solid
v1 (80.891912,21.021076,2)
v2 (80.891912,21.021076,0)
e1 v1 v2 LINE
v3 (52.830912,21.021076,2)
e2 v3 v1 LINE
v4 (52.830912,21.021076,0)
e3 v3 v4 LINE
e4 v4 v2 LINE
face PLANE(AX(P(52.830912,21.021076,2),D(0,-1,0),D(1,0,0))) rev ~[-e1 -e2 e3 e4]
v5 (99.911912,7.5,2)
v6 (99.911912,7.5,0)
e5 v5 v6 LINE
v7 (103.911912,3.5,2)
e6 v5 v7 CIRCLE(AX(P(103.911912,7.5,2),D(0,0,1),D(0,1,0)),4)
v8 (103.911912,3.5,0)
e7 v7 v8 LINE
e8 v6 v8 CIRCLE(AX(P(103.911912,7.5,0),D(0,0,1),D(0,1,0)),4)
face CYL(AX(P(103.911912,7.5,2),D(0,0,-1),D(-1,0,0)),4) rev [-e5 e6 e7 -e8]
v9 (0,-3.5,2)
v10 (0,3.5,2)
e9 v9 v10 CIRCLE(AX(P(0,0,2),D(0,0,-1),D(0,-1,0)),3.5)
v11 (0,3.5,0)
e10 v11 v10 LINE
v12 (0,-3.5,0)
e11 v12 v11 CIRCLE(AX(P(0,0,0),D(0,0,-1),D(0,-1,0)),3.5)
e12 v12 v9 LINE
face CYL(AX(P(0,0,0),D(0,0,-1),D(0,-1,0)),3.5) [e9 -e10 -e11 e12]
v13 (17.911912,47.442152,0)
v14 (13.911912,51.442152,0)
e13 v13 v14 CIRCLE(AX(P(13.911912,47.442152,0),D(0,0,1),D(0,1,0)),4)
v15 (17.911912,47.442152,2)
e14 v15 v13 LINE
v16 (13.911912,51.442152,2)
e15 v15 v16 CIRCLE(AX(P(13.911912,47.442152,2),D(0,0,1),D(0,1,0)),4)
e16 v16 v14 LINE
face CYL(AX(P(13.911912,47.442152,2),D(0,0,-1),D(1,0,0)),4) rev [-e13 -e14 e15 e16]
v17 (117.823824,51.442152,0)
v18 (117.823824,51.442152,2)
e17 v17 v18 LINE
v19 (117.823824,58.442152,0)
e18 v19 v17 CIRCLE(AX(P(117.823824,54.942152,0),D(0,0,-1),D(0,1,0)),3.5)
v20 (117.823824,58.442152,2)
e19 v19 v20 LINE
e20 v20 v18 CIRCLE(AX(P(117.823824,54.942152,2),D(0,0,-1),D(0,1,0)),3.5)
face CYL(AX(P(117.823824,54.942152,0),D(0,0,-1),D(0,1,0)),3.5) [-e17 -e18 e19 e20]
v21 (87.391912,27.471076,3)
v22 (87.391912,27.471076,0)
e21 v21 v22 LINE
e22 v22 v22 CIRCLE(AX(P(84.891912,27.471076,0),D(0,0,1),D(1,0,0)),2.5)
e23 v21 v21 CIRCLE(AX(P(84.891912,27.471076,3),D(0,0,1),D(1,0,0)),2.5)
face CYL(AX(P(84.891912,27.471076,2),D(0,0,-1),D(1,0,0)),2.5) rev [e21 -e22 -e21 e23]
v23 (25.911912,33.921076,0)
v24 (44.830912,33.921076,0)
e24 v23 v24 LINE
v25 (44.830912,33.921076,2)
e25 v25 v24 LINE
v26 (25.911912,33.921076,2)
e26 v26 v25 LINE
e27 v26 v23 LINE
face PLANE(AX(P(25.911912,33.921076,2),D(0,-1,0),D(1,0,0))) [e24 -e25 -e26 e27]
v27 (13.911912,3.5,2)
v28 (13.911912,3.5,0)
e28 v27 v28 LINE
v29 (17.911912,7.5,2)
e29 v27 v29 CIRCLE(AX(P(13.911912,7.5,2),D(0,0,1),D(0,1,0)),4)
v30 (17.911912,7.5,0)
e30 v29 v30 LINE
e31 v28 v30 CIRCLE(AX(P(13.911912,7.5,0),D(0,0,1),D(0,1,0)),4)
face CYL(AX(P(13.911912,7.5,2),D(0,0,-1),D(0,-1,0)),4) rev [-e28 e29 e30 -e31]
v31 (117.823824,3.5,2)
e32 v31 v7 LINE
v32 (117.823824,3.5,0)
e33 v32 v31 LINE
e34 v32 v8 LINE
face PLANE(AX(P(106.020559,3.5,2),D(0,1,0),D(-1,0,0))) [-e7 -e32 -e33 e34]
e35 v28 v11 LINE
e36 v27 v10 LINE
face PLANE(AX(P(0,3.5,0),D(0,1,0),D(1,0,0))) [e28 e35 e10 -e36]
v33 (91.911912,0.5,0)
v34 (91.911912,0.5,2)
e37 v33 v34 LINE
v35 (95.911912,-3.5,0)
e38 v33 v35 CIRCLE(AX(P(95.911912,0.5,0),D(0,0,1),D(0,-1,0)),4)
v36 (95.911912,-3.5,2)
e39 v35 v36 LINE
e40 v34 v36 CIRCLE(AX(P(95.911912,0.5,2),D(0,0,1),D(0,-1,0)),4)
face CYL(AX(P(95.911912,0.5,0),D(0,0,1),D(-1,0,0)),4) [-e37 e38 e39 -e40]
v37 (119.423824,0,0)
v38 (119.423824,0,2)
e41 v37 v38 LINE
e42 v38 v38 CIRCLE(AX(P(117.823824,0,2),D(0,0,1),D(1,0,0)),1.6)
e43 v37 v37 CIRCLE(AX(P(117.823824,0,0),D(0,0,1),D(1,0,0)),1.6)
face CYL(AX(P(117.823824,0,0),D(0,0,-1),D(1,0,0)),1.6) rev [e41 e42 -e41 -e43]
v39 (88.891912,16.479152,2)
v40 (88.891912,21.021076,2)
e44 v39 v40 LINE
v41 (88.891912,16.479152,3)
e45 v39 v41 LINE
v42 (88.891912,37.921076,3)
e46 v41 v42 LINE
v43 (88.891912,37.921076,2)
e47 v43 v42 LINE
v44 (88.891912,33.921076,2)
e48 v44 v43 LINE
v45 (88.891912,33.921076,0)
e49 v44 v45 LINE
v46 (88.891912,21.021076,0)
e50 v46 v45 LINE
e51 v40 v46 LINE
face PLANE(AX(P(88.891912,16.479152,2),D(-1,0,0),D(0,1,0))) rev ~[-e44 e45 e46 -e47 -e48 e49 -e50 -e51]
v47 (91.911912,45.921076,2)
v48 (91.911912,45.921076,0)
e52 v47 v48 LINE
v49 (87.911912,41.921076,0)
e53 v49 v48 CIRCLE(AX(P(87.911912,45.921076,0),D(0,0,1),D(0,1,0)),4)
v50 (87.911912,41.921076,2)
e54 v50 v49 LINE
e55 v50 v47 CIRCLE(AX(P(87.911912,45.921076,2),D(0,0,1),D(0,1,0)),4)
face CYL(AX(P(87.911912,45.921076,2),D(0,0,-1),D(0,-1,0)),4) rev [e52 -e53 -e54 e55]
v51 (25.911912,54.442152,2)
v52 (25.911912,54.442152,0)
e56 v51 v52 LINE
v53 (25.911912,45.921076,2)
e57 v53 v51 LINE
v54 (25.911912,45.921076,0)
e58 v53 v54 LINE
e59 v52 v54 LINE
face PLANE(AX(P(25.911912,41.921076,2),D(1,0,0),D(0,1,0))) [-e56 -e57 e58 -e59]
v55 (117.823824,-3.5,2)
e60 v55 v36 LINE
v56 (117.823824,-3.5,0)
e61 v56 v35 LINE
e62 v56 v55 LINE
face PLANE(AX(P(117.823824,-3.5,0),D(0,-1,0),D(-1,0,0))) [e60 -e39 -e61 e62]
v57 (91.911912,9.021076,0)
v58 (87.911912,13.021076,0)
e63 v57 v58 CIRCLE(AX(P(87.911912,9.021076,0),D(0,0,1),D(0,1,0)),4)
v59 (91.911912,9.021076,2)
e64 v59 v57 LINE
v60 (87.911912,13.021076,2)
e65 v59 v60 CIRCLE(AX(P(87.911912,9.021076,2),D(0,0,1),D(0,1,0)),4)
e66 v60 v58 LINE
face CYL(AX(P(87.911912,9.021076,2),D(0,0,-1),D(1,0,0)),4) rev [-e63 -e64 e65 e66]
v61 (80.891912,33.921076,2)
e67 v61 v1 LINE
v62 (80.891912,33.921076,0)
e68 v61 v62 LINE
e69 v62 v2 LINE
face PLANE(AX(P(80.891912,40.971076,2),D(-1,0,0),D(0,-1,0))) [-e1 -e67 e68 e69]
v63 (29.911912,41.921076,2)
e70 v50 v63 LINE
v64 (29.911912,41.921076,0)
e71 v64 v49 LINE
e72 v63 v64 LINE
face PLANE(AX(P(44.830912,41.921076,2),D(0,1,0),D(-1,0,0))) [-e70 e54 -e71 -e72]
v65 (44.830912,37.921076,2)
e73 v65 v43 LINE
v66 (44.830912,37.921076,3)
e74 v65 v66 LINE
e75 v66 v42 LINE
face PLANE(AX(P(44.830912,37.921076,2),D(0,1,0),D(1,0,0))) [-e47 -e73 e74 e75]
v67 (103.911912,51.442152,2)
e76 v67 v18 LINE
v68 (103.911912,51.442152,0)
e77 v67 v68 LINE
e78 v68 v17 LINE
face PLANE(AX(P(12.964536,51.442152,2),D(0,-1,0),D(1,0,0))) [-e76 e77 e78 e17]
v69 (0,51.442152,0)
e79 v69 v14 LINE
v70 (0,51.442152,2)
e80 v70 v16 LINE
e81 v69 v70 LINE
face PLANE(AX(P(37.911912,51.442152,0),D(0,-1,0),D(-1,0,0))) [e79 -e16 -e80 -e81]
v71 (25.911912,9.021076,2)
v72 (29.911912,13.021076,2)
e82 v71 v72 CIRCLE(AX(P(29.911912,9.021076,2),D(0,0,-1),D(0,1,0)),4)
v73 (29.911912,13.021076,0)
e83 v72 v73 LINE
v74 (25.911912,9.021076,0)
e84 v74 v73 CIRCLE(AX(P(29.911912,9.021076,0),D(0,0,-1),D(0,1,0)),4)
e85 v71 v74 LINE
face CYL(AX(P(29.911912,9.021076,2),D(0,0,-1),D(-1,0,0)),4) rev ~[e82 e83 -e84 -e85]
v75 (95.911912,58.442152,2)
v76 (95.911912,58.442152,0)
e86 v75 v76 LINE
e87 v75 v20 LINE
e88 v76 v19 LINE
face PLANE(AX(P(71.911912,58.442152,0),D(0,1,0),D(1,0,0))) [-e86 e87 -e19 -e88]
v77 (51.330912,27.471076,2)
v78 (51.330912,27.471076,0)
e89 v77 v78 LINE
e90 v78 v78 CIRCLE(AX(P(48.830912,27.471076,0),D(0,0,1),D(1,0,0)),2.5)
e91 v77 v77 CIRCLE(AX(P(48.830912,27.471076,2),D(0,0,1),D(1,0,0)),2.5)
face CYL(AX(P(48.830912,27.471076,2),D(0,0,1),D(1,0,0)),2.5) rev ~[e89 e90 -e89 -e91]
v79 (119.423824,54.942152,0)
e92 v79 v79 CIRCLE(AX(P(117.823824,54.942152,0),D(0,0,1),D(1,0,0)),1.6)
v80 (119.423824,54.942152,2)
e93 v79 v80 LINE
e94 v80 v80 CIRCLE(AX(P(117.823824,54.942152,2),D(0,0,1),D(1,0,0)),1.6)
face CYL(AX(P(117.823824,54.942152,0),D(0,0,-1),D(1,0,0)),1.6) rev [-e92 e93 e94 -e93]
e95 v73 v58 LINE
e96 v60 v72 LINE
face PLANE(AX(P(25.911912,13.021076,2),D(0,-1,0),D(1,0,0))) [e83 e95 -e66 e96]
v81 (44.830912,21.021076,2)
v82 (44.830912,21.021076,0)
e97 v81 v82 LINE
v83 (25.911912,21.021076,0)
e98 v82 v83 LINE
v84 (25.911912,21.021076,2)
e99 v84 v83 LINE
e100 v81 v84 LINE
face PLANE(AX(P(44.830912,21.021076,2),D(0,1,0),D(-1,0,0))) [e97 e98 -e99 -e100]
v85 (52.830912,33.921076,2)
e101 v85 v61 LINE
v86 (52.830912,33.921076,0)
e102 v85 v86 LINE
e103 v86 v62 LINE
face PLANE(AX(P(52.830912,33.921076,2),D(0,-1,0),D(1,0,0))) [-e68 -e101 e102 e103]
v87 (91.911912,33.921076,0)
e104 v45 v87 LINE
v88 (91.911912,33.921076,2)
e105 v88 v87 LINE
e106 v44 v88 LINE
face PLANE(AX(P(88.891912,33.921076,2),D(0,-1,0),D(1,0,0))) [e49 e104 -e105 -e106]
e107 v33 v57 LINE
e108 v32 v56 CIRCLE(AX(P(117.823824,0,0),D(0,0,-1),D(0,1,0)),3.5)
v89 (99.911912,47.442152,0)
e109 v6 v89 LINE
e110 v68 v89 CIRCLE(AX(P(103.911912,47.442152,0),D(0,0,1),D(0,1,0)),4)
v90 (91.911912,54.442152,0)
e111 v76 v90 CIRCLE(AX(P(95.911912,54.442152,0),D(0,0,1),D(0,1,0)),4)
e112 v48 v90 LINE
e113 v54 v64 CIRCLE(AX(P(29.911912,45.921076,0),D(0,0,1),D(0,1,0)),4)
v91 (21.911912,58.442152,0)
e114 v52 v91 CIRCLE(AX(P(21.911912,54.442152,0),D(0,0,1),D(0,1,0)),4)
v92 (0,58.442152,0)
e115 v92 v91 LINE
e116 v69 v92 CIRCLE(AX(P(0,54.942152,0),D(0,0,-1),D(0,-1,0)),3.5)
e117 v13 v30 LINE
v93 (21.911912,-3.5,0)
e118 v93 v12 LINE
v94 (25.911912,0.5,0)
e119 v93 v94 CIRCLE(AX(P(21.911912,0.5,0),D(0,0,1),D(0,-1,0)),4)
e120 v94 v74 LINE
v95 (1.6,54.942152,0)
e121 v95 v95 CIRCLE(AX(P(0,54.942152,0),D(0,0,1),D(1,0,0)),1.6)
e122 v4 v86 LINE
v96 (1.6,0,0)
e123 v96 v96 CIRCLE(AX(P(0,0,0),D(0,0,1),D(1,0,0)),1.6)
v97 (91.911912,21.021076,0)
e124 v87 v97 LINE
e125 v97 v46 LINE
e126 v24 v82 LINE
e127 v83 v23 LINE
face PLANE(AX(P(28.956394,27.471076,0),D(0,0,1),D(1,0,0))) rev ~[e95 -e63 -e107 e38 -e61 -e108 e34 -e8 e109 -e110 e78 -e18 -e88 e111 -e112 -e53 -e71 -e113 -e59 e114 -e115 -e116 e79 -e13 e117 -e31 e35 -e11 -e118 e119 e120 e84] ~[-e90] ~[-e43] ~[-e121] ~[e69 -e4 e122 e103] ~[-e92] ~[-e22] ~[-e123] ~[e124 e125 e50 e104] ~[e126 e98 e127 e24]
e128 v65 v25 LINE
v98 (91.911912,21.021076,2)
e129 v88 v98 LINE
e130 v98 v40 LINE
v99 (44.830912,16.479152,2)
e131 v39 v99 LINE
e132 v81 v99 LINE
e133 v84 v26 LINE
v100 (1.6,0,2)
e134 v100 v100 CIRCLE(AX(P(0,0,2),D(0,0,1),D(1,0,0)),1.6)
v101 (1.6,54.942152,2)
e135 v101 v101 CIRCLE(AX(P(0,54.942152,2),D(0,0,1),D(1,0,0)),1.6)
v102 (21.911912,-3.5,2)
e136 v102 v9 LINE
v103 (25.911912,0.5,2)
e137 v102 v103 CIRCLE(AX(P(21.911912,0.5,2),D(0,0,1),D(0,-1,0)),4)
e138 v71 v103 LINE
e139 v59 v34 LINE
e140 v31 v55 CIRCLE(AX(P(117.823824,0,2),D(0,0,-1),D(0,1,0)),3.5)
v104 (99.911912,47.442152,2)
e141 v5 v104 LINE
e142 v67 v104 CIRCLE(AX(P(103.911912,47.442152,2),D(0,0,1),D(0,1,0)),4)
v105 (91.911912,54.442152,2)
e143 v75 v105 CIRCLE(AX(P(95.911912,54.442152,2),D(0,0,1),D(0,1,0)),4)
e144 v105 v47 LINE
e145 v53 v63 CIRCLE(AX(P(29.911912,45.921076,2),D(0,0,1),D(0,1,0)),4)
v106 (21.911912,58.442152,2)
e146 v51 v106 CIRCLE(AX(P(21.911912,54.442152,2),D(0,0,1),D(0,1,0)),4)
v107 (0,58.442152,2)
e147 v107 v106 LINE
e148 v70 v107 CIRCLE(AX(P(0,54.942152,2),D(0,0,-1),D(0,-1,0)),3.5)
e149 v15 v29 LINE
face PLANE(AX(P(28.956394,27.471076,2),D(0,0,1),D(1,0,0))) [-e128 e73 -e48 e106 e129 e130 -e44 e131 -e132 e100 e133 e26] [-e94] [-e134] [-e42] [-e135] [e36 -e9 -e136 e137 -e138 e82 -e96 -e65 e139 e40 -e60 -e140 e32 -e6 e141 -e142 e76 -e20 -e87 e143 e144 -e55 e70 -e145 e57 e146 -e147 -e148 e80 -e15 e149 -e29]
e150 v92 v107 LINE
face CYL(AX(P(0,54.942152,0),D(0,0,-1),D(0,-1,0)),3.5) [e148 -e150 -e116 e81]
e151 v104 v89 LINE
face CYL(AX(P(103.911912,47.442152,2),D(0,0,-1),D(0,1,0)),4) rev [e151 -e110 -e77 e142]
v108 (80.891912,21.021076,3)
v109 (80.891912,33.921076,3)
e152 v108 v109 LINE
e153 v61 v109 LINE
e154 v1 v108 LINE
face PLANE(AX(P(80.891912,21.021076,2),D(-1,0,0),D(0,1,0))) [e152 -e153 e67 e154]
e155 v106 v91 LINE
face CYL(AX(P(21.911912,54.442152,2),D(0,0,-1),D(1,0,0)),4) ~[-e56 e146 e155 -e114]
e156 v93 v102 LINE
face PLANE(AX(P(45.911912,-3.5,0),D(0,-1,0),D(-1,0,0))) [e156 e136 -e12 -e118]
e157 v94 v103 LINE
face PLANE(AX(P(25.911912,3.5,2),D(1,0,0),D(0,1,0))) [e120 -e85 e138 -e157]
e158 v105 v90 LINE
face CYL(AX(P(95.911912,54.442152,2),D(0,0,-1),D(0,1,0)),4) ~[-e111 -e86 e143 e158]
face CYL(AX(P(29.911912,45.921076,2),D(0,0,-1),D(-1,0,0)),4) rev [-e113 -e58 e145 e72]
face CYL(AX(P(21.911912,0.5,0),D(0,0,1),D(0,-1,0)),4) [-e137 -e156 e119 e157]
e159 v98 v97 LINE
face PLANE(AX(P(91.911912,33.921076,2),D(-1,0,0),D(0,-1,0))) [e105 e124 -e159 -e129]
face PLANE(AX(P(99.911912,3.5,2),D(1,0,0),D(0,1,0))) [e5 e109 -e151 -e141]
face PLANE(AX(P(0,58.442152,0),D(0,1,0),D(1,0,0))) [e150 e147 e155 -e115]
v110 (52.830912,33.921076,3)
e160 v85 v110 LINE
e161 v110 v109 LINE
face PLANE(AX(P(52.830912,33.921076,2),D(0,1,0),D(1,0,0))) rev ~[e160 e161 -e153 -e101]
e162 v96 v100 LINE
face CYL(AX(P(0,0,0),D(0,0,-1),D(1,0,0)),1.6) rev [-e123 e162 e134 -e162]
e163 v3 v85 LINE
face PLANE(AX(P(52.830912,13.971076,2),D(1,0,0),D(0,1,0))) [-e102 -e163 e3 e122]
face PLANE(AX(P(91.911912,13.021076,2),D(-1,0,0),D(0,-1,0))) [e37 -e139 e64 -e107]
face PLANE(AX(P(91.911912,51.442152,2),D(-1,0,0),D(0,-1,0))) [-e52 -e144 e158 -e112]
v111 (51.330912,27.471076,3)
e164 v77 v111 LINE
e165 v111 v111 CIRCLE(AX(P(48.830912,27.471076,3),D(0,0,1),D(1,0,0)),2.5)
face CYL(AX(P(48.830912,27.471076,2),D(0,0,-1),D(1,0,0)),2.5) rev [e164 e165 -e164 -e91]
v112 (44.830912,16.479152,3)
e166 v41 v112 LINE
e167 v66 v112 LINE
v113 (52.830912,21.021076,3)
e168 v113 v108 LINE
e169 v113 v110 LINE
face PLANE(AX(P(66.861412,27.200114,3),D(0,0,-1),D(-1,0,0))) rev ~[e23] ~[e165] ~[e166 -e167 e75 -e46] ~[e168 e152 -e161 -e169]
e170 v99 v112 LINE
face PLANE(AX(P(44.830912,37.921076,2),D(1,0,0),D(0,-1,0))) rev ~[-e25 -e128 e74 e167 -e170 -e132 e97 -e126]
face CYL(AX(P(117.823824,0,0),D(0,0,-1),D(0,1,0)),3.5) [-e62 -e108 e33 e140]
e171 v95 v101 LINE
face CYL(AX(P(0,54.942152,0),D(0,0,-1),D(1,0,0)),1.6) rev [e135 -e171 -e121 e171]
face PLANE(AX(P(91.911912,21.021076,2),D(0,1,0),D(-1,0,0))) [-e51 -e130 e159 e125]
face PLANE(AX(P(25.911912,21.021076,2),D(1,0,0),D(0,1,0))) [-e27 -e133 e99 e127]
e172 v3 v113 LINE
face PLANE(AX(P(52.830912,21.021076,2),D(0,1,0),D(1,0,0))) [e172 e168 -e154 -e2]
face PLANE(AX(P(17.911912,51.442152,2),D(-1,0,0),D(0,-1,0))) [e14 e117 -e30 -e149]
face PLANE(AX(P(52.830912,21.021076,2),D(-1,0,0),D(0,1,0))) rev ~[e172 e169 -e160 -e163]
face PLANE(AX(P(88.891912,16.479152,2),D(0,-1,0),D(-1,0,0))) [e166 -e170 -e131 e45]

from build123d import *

# Parameters (mm, degrees)
SKETCH1_R            = 1.6
SKETCH1_R_2          = 2.1
BOSS_EXTRUDE3_DEPTH  = 2
BOSS_EXTRUDE4_DEPTH  = 2
SKETCH4_W            = 66
SKETCH4_H            = 16.340111315
SKETCH4_H_2          = 24.741581589
CUT_EXTRUDE3_DEPTH   = 14.5
FILLET1_R            = 4
SKETCH5_W            = 26
SKETCH5_H            = 27
SKETCH5_R            = 6
BOSS_EXTRUDE5_DEPTH  = 2
SKETCH6_W            = 5
SKETCH6_H            = 27
CUT_EXTRUDE4_DEPTH   = 14.5
SKETCH7_R            = 2.5
BOSS_EXTRUDE6_DEPTH  = 2
SKETCH8_R            = 2.5
CUT_EXTRUDE5_DEPTH   = 10
SKETCH9_W            = 22.081
SKETCH9_H            = 27
CUT_EXTRUDE6_DEPTH   = 10
CUT_EXTRUDE7_DEPTH   = 10
SKETCH11_W           = 28.061
SKETCH11_H           = 7.05
BOSS_EXTRUDE7_DEPTH  = 2
SKETCH12_W           = 44.061
SKETCH12_H           = 28.9
CUT_EXTRUDE9_DEPTH   = 10
BOSS_EXTRUDE9_DEPTH  = 2
FILLET2_R            = 4
SKETCH14_R           = 2.5
SKETCH14_W           = 28.061
SKETCH14_H           = 12.9
BOSS_EXTRUDE10_DEPTH = 1


with BuildPart() as part:
    # Sketch1 → Boss-Extrude3 (new body)
    with BuildSketch(Plane.XY):
        with BuildLine():
            Line((0, 3.5), (37.911912125, 3.5))
            Line((37.911912125, 3.5), (37.911912125, 13.97107578))
            Line((37.911912125, 13.97107578), (37.911912125, 40.97107578))
            Line((37.911912125, 40.97107578), (37.911912125, 51.44215156))
            Line((37.911912125, 51.44215156), (0, 51.44215156))
            ThreePointArc((0, 51.44215156), (-3.5, 54.94215156), (0, 58.44215156))
            Line((0, 58.44215156), (45.911912125, 58.44215156))
            Line((45.911912125, 58.44215156), (45.911912125, 51.44215156))
            Line((45.911912125, 51.44215156), (45.911912125, 48.97107578))
            Line((45.911912125, 48.97107578), (50.911912125, 48.97107578))
            Line((50.911912125, 48.97107578), (66.911912125, 48.97107578))
            Line((66.911912125, 48.97107578), (71.911912125, 48.97107578))
            Line((71.911912125, 48.97107578), (71.911912125, 51.44215156))
            Line((71.911912125, 51.44215156), (71.911912125, 58.44215156))
            Line((71.911912125, 58.44215156), (117.82382425, 58.44215156))
            ThreePointArc((117.82382425, 58.44215156), (121.32382425, 54.94215156), (117.82382425, 51.44215156))
            Line((117.82382425, 51.44215156), (79.911912125, 51.44215156))
            Line((79.911912125, 51.44215156), (79.911912125, 40.97107578))
            Line((79.911912125, 40.97107578), (79.911912125, 13.97107578))
            Line((79.911912125, 13.97107578), (79.911912125, 3.5))
            Line((79.911912125, 3.5), (117.82382425, 3.5))
            ThreePointArc((117.82382425, 3.5), (121.32382425, 0), (117.82382425, -3.5))
            Line((117.82382425, -3.5), (71.911912125, -3.5))
            Line((71.911912125, -3.5), (71.911912125, 3.5))
            Line((71.911912125, 3.5), (71.911912125, 5.97107578))
            Line((71.911912125, 5.97107578), (66.911912125, 5.97107578))
            Line((66.911912125, 5.97107578), (50.911912125, 5.97107578))
            Line((50.911912125, 5.97107578), (45.911912125, 5.97107578))
            Line((45.911912125, 5.97107578), (45.911912125, 3.5))
            Line((45.911912125, 3.5), (45.911912125, -3.5))
            Line((45.911912125, -3.5), (0, -3.5))
            ThreePointArc((0, -3.5), (-3.5, 0), (0, 3.5))
        make_face()
        with Locations((0, 54.94215156)):
            Circle(SKETCH1_R, mode=Mode.SUBTRACT)
        with Locations((117.82382425, 54.94215156)):
            Circle(SKETCH1_R, mode=Mode.SUBTRACT)
        with Locations((117.82382425, 0)):
            Circle(SKETCH1_R, mode=Mode.SUBTRACT)
        Circle(SKETCH1_R, mode=Mode.SUBTRACT)
        with Locations((66.911912125, 44.97107578)):
            Circle(SKETCH1_R_2, mode=Mode.SUBTRACT)
        with Locations((66.911912125, 9.97107578)):
            Circle(SKETCH1_R_2, mode=Mode.SUBTRACT)
        with Locations((50.911912125, 9.97107578)):
            Circle(SKETCH1_R_2, mode=Mode.SUBTRACT)
        with Locations((50.911912125, 44.97107578)):
            Circle(SKETCH1_R_2, mode=Mode.SUBTRACT)
        Polygon((66.911912125, 40.97107578), (50.911912125, 40.97107578), (45.911912125, 40.97107578), (45.911912125, 27.47107578), (45.911912125, 13.97107578), (50.911912125, 13.97107578), (66.911912125, 13.97107578), (71.911912125, 13.97107578), (71.911912125, 27.47107578), (71.911912125, 40.97107578), align=None, mode=Mode.SUBTRACT)
    extrude(amount=BOSS_EXTRUDE3_DEPTH)

    # Sketch3 → Boss-Extrude4 (add)
    with BuildSketch(Plane.XY.offset(2)):
        Polygon((71.911912125, 13.97107578), (99.911912125, 13.97107578), (99.911912125, 3.5), (91.911912125, 3.5), (91.911912125, 5.97107578), (71.911912125, 5.97107578), align=None)
        Polygon((91.911912125, 51.44215156), (99.911912125, 51.44215156), (99.911912125, 40.97107578), (71.911912125, 40.97107578), (71.911912125, 48.97107578), (91.911912125, 48.97107578), align=None)
        Polygon((45.911912125, 40.97107578), (17.911912125, 40.97107578), (17.911912125, 51.44215156), (25.911912125, 51.44215156), (25.911912125, 48.97107578), (45.911912125, 48.97107578), align=None)
        Polygon((25.911912125, 3.5), (17.911912125, 3.5), (17.911912125, 13.97107578), (45.911912125, 13.97107578), (45.911912125, 5.97107578), (25.911912125, 5.97107578), align=None)
    extrude(amount=-BOSS_EXTRUDE4_DEPTH)

    # Sketch4 → Cut-Extrude3 (cut)
    with BuildSketch(Plane.XY.offset(2)):
        with Locations((58.911912125, 57.141131438)):
            Rectangle(SKETCH4_W, SKETCH4_H)
        with Locations((58.911912125, -6.399715014)):
            Rectangle(SKETCH4_W, SKETCH4_H_2)
    extrude(amount=-CUT_EXTRUDE3_DEPTH, mode=Mode.SUBTRACT)

    # Fillet1
    fillet1_edges = [part.edges().sort_by_distance(p)[0] for p in [
        (99.911912125, 13.97107578, 1),
        (99.911912125, 3.5, 1),
        (91.911912125, 5.97107578, 1),
        (91.911912125, 48.97107578, 1),
        (99.911912125, 51.44215156, 1),
        (99.911912125, 40.97107578, 1),
        (17.911912125, 40.97107578, 1),
        (17.911912125, 51.44215156, 1),
        (25.911912125, 48.97107578, 1),
        (25.911912125, 5.97107578, 1),
        (17.911912125, 3.5, 1),
        (17.911912125, 13.97107578, 1),
        (91.911912125, 58.44215156, 1),
        (25.911912125, 58.44215156, 1),
        (91.911912125, -3.5, 1),
        (25.911912125, -3.5, 1),
    ]]
    fillet(fillet1_edges, radius=FILLET1_R)

    # Sketch5 → Boss-Extrude5 (add)
    with BuildSketch(Plane.XY.offset(2)):
        with Locations((58.911912125, 27.47107578)):
            Rectangle(SKETCH5_W, SKETCH5_H)
        with Locations((58.911912125, 27.47107578)):
            Circle(SKETCH5_R, mode=Mode.SUBTRACT)
    extrude(amount=-BOSS_EXTRUDE5_DEPTH)

    # Sketch6 → Cut-Extrude4 (cut)
    with BuildSketch(Plane.XY.offset(2)):
        with Locations((40.411912125, 27.47107578)):
            Rectangle(SKETCH6_W, SKETCH6_H)
        with Locations((77.411912125, 27.47107578)):
            Rectangle(SKETCH6_W, SKETCH6_H)
    extrude(amount=-CUT_EXTRUDE4_DEPTH, mode=Mode.SUBTRACT)

    # Sketch7 → Boss-Extrude6 (add)
    with BuildSketch(Plane.XY.offset(2)):
        Polygon((80.891912125, 27.47107578), (80.891912125, 40.97107578), (88.891912125, 40.97107578), (88.891912125, 27.47107578), (88.891912125, 13.97107578), (80.891912125, 13.97107578), align=None)
        with Locations((84.891912125, 27.47107578)):
            Circle(SKETCH7_R, mode=Mode.SUBTRACT)
    extrude(amount=-BOSS_EXTRUDE6_DEPTH)

    # Sketch8 → Cut-Extrude5 (cut)
    with BuildSketch(Plane.XY.offset(2)):
        with Locations((48.830912125, 27.47107578)):
            Circle(SKETCH8_R)
    extrude(amount=-CUT_EXTRUDE5_DEPTH, mode=Mode.SUBTRACT)

    # Sketch9 → Cut-Extrude6 (cut)
    with BuildSketch(Plane.XY.offset(2)):
        Polygon((42.911912125, 40.97107578), (44.830912125, 40.97107578), (44.830912125, 27.47107578), (44.830912125, 13.97107578), (42.911912125, 13.97107578), align=None)
        with Locations((63.871412125, 27.47107578)):
            Rectangle(SKETCH9_W, SKETCH9_H)
    extrude(amount=-CUT_EXTRUDE6_DEPTH, mode=Mode.SUBTRACT)

    # Sketch10 → Cut-Extrude7 (cut)
    with BuildSketch(Plane.XY.offset(2)):
        Polygon((44.830912125, 13.97107578), (44.830912125, 13.02107578), (88.891912125, 13.02107578), (88.891912125, 13.97107578), (106.020559472, 13.97107578), (106.020559472, 3.5), (12.964535502, 3.5), (12.964535502, 13.97107578), align=None)
        Polygon((88.891912125, 40.97107578), (88.891912125, 41.92107578), (44.830912125, 41.92107578), (44.830912125, 40.97107578), (12.964535502, 40.97107578), (12.964535502, 51.44215156), (106.020559472, 51.44215156), (106.020559472, 40.97107578), align=None)
    extrude(amount=-CUT_EXTRUDE7_DEPTH, mode=Mode.SUBTRACT)

    # Sketch11 → Boss-Extrude7 (add)
    with BuildSketch(Plane.XY.offset(2)):
        with Locations((66.861412125, 37.44607578)):
            Rectangle(SKETCH11_W, SKETCH11_H)
        with Locations((66.861412125, 17.49607578)):
            Rectangle(SKETCH11_W, SKETCH11_H)
    extrude(amount=-BOSS_EXTRUDE7_DEPTH)

    # Sketch12 → Cut-Extrude9 (cut)
    with BuildSketch(Plane.XY.offset(2)):
        Polygon((25.911912125, 1.23553789), (25.911912125, 54.44215156), (91.911912125, 54.44215156), (91.911912125, 0.5), align=None)
        with Locations((66.861412125, 27.47107578)):
            Rectangle(SKETCH12_W, SKETCH12_H, mode=Mode.SUBTRACT)
    extrude(amount=-CUT_EXTRUDE9_DEPTH, mode=Mode.SUBTRACT)

    # Sketch13 → Boss-Extrude9 (add)
    with BuildSketch(Plane.XY.offset(2)):
        Polygon((17.911912125, 3.5), (25.911912125, 3.5), (25.911912125, 13.02107578), (44.830912125, 13.02107578), (44.830912125, 21.02107578), (25.911912125, 21.02107578), (25.911912125, 33.92107578), (44.830912125, 33.92107578), (44.830912125, 41.92107578), (25.911912125, 41.92107578), (25.911912125, 51.44215156), (17.911912125, 51.44215156), (17.911912125, 13.02107578), align=None)
        Polygon((99.911912125, 51.44215156), (91.911912125, 51.44215156), (91.911912125, 41.92107578), (88.891912125, 41.92107578), (88.891912125, 33.92107578), (91.911912125, 33.92107578), (91.911912125, 21.02107578), (88.891912125, 21.02107578), (88.891912125, 13.02107578), (91.911912125, 13.02107578), (91.911912125, 3.5), (99.911912125, 3.5), (99.911912125, 41.92107578), align=None)
    extrude(amount=-BOSS_EXTRUDE9_DEPTH)

    # Fillet2
    fillet2_edges = [part.edges().sort_by_distance(p)[0] for p in [
        (99.911912125, 51.44215156, 1),
        (99.911912125, 3.5, 1),
        (91.911912125, 13.02107578, 1),
        (91.911912125, 41.92107578, 1),
        (25.911912125, 13.02107578, 1),
        (17.911912125, 3.5, 1),
        (17.911912125, 51.44215156, 1),
        (25.911912125, 41.92107578, 1),
    ]]
    fillet(fillet2_edges, radius=FILLET2_R)

    # Sketch14 → Boss-Extrude10 (add)
    with BuildSketch(Plane.XY.offset(2)):
        Polygon((44.830912125, 33.92107578), (44.830912125, 37.92107578), (88.891912125, 37.92107578), (88.891912125, 33.92107578), (88.891912125, 21.02107578), (88.891912125, 16.479152283), (44.830912125, 16.479152283), (44.830912125, 21.02107578), align=None)
        with Locations((48.830912125, 27.47107578)):
            Circle(SKETCH14_R, mode=Mode.SUBTRACT)
        with Locations((84.891912125, 27.47107578)):
            Circle(SKETCH14_R, mode=Mode.SUBTRACT)
        with Locations((66.861412125, 27.47107578)):
            Rectangle(SKETCH14_W, SKETCH14_H, mode=Mode.SUBTRACT)
    extrude(amount=BOSS_EXTRUDE10_DEPTH)


solid = part.part
